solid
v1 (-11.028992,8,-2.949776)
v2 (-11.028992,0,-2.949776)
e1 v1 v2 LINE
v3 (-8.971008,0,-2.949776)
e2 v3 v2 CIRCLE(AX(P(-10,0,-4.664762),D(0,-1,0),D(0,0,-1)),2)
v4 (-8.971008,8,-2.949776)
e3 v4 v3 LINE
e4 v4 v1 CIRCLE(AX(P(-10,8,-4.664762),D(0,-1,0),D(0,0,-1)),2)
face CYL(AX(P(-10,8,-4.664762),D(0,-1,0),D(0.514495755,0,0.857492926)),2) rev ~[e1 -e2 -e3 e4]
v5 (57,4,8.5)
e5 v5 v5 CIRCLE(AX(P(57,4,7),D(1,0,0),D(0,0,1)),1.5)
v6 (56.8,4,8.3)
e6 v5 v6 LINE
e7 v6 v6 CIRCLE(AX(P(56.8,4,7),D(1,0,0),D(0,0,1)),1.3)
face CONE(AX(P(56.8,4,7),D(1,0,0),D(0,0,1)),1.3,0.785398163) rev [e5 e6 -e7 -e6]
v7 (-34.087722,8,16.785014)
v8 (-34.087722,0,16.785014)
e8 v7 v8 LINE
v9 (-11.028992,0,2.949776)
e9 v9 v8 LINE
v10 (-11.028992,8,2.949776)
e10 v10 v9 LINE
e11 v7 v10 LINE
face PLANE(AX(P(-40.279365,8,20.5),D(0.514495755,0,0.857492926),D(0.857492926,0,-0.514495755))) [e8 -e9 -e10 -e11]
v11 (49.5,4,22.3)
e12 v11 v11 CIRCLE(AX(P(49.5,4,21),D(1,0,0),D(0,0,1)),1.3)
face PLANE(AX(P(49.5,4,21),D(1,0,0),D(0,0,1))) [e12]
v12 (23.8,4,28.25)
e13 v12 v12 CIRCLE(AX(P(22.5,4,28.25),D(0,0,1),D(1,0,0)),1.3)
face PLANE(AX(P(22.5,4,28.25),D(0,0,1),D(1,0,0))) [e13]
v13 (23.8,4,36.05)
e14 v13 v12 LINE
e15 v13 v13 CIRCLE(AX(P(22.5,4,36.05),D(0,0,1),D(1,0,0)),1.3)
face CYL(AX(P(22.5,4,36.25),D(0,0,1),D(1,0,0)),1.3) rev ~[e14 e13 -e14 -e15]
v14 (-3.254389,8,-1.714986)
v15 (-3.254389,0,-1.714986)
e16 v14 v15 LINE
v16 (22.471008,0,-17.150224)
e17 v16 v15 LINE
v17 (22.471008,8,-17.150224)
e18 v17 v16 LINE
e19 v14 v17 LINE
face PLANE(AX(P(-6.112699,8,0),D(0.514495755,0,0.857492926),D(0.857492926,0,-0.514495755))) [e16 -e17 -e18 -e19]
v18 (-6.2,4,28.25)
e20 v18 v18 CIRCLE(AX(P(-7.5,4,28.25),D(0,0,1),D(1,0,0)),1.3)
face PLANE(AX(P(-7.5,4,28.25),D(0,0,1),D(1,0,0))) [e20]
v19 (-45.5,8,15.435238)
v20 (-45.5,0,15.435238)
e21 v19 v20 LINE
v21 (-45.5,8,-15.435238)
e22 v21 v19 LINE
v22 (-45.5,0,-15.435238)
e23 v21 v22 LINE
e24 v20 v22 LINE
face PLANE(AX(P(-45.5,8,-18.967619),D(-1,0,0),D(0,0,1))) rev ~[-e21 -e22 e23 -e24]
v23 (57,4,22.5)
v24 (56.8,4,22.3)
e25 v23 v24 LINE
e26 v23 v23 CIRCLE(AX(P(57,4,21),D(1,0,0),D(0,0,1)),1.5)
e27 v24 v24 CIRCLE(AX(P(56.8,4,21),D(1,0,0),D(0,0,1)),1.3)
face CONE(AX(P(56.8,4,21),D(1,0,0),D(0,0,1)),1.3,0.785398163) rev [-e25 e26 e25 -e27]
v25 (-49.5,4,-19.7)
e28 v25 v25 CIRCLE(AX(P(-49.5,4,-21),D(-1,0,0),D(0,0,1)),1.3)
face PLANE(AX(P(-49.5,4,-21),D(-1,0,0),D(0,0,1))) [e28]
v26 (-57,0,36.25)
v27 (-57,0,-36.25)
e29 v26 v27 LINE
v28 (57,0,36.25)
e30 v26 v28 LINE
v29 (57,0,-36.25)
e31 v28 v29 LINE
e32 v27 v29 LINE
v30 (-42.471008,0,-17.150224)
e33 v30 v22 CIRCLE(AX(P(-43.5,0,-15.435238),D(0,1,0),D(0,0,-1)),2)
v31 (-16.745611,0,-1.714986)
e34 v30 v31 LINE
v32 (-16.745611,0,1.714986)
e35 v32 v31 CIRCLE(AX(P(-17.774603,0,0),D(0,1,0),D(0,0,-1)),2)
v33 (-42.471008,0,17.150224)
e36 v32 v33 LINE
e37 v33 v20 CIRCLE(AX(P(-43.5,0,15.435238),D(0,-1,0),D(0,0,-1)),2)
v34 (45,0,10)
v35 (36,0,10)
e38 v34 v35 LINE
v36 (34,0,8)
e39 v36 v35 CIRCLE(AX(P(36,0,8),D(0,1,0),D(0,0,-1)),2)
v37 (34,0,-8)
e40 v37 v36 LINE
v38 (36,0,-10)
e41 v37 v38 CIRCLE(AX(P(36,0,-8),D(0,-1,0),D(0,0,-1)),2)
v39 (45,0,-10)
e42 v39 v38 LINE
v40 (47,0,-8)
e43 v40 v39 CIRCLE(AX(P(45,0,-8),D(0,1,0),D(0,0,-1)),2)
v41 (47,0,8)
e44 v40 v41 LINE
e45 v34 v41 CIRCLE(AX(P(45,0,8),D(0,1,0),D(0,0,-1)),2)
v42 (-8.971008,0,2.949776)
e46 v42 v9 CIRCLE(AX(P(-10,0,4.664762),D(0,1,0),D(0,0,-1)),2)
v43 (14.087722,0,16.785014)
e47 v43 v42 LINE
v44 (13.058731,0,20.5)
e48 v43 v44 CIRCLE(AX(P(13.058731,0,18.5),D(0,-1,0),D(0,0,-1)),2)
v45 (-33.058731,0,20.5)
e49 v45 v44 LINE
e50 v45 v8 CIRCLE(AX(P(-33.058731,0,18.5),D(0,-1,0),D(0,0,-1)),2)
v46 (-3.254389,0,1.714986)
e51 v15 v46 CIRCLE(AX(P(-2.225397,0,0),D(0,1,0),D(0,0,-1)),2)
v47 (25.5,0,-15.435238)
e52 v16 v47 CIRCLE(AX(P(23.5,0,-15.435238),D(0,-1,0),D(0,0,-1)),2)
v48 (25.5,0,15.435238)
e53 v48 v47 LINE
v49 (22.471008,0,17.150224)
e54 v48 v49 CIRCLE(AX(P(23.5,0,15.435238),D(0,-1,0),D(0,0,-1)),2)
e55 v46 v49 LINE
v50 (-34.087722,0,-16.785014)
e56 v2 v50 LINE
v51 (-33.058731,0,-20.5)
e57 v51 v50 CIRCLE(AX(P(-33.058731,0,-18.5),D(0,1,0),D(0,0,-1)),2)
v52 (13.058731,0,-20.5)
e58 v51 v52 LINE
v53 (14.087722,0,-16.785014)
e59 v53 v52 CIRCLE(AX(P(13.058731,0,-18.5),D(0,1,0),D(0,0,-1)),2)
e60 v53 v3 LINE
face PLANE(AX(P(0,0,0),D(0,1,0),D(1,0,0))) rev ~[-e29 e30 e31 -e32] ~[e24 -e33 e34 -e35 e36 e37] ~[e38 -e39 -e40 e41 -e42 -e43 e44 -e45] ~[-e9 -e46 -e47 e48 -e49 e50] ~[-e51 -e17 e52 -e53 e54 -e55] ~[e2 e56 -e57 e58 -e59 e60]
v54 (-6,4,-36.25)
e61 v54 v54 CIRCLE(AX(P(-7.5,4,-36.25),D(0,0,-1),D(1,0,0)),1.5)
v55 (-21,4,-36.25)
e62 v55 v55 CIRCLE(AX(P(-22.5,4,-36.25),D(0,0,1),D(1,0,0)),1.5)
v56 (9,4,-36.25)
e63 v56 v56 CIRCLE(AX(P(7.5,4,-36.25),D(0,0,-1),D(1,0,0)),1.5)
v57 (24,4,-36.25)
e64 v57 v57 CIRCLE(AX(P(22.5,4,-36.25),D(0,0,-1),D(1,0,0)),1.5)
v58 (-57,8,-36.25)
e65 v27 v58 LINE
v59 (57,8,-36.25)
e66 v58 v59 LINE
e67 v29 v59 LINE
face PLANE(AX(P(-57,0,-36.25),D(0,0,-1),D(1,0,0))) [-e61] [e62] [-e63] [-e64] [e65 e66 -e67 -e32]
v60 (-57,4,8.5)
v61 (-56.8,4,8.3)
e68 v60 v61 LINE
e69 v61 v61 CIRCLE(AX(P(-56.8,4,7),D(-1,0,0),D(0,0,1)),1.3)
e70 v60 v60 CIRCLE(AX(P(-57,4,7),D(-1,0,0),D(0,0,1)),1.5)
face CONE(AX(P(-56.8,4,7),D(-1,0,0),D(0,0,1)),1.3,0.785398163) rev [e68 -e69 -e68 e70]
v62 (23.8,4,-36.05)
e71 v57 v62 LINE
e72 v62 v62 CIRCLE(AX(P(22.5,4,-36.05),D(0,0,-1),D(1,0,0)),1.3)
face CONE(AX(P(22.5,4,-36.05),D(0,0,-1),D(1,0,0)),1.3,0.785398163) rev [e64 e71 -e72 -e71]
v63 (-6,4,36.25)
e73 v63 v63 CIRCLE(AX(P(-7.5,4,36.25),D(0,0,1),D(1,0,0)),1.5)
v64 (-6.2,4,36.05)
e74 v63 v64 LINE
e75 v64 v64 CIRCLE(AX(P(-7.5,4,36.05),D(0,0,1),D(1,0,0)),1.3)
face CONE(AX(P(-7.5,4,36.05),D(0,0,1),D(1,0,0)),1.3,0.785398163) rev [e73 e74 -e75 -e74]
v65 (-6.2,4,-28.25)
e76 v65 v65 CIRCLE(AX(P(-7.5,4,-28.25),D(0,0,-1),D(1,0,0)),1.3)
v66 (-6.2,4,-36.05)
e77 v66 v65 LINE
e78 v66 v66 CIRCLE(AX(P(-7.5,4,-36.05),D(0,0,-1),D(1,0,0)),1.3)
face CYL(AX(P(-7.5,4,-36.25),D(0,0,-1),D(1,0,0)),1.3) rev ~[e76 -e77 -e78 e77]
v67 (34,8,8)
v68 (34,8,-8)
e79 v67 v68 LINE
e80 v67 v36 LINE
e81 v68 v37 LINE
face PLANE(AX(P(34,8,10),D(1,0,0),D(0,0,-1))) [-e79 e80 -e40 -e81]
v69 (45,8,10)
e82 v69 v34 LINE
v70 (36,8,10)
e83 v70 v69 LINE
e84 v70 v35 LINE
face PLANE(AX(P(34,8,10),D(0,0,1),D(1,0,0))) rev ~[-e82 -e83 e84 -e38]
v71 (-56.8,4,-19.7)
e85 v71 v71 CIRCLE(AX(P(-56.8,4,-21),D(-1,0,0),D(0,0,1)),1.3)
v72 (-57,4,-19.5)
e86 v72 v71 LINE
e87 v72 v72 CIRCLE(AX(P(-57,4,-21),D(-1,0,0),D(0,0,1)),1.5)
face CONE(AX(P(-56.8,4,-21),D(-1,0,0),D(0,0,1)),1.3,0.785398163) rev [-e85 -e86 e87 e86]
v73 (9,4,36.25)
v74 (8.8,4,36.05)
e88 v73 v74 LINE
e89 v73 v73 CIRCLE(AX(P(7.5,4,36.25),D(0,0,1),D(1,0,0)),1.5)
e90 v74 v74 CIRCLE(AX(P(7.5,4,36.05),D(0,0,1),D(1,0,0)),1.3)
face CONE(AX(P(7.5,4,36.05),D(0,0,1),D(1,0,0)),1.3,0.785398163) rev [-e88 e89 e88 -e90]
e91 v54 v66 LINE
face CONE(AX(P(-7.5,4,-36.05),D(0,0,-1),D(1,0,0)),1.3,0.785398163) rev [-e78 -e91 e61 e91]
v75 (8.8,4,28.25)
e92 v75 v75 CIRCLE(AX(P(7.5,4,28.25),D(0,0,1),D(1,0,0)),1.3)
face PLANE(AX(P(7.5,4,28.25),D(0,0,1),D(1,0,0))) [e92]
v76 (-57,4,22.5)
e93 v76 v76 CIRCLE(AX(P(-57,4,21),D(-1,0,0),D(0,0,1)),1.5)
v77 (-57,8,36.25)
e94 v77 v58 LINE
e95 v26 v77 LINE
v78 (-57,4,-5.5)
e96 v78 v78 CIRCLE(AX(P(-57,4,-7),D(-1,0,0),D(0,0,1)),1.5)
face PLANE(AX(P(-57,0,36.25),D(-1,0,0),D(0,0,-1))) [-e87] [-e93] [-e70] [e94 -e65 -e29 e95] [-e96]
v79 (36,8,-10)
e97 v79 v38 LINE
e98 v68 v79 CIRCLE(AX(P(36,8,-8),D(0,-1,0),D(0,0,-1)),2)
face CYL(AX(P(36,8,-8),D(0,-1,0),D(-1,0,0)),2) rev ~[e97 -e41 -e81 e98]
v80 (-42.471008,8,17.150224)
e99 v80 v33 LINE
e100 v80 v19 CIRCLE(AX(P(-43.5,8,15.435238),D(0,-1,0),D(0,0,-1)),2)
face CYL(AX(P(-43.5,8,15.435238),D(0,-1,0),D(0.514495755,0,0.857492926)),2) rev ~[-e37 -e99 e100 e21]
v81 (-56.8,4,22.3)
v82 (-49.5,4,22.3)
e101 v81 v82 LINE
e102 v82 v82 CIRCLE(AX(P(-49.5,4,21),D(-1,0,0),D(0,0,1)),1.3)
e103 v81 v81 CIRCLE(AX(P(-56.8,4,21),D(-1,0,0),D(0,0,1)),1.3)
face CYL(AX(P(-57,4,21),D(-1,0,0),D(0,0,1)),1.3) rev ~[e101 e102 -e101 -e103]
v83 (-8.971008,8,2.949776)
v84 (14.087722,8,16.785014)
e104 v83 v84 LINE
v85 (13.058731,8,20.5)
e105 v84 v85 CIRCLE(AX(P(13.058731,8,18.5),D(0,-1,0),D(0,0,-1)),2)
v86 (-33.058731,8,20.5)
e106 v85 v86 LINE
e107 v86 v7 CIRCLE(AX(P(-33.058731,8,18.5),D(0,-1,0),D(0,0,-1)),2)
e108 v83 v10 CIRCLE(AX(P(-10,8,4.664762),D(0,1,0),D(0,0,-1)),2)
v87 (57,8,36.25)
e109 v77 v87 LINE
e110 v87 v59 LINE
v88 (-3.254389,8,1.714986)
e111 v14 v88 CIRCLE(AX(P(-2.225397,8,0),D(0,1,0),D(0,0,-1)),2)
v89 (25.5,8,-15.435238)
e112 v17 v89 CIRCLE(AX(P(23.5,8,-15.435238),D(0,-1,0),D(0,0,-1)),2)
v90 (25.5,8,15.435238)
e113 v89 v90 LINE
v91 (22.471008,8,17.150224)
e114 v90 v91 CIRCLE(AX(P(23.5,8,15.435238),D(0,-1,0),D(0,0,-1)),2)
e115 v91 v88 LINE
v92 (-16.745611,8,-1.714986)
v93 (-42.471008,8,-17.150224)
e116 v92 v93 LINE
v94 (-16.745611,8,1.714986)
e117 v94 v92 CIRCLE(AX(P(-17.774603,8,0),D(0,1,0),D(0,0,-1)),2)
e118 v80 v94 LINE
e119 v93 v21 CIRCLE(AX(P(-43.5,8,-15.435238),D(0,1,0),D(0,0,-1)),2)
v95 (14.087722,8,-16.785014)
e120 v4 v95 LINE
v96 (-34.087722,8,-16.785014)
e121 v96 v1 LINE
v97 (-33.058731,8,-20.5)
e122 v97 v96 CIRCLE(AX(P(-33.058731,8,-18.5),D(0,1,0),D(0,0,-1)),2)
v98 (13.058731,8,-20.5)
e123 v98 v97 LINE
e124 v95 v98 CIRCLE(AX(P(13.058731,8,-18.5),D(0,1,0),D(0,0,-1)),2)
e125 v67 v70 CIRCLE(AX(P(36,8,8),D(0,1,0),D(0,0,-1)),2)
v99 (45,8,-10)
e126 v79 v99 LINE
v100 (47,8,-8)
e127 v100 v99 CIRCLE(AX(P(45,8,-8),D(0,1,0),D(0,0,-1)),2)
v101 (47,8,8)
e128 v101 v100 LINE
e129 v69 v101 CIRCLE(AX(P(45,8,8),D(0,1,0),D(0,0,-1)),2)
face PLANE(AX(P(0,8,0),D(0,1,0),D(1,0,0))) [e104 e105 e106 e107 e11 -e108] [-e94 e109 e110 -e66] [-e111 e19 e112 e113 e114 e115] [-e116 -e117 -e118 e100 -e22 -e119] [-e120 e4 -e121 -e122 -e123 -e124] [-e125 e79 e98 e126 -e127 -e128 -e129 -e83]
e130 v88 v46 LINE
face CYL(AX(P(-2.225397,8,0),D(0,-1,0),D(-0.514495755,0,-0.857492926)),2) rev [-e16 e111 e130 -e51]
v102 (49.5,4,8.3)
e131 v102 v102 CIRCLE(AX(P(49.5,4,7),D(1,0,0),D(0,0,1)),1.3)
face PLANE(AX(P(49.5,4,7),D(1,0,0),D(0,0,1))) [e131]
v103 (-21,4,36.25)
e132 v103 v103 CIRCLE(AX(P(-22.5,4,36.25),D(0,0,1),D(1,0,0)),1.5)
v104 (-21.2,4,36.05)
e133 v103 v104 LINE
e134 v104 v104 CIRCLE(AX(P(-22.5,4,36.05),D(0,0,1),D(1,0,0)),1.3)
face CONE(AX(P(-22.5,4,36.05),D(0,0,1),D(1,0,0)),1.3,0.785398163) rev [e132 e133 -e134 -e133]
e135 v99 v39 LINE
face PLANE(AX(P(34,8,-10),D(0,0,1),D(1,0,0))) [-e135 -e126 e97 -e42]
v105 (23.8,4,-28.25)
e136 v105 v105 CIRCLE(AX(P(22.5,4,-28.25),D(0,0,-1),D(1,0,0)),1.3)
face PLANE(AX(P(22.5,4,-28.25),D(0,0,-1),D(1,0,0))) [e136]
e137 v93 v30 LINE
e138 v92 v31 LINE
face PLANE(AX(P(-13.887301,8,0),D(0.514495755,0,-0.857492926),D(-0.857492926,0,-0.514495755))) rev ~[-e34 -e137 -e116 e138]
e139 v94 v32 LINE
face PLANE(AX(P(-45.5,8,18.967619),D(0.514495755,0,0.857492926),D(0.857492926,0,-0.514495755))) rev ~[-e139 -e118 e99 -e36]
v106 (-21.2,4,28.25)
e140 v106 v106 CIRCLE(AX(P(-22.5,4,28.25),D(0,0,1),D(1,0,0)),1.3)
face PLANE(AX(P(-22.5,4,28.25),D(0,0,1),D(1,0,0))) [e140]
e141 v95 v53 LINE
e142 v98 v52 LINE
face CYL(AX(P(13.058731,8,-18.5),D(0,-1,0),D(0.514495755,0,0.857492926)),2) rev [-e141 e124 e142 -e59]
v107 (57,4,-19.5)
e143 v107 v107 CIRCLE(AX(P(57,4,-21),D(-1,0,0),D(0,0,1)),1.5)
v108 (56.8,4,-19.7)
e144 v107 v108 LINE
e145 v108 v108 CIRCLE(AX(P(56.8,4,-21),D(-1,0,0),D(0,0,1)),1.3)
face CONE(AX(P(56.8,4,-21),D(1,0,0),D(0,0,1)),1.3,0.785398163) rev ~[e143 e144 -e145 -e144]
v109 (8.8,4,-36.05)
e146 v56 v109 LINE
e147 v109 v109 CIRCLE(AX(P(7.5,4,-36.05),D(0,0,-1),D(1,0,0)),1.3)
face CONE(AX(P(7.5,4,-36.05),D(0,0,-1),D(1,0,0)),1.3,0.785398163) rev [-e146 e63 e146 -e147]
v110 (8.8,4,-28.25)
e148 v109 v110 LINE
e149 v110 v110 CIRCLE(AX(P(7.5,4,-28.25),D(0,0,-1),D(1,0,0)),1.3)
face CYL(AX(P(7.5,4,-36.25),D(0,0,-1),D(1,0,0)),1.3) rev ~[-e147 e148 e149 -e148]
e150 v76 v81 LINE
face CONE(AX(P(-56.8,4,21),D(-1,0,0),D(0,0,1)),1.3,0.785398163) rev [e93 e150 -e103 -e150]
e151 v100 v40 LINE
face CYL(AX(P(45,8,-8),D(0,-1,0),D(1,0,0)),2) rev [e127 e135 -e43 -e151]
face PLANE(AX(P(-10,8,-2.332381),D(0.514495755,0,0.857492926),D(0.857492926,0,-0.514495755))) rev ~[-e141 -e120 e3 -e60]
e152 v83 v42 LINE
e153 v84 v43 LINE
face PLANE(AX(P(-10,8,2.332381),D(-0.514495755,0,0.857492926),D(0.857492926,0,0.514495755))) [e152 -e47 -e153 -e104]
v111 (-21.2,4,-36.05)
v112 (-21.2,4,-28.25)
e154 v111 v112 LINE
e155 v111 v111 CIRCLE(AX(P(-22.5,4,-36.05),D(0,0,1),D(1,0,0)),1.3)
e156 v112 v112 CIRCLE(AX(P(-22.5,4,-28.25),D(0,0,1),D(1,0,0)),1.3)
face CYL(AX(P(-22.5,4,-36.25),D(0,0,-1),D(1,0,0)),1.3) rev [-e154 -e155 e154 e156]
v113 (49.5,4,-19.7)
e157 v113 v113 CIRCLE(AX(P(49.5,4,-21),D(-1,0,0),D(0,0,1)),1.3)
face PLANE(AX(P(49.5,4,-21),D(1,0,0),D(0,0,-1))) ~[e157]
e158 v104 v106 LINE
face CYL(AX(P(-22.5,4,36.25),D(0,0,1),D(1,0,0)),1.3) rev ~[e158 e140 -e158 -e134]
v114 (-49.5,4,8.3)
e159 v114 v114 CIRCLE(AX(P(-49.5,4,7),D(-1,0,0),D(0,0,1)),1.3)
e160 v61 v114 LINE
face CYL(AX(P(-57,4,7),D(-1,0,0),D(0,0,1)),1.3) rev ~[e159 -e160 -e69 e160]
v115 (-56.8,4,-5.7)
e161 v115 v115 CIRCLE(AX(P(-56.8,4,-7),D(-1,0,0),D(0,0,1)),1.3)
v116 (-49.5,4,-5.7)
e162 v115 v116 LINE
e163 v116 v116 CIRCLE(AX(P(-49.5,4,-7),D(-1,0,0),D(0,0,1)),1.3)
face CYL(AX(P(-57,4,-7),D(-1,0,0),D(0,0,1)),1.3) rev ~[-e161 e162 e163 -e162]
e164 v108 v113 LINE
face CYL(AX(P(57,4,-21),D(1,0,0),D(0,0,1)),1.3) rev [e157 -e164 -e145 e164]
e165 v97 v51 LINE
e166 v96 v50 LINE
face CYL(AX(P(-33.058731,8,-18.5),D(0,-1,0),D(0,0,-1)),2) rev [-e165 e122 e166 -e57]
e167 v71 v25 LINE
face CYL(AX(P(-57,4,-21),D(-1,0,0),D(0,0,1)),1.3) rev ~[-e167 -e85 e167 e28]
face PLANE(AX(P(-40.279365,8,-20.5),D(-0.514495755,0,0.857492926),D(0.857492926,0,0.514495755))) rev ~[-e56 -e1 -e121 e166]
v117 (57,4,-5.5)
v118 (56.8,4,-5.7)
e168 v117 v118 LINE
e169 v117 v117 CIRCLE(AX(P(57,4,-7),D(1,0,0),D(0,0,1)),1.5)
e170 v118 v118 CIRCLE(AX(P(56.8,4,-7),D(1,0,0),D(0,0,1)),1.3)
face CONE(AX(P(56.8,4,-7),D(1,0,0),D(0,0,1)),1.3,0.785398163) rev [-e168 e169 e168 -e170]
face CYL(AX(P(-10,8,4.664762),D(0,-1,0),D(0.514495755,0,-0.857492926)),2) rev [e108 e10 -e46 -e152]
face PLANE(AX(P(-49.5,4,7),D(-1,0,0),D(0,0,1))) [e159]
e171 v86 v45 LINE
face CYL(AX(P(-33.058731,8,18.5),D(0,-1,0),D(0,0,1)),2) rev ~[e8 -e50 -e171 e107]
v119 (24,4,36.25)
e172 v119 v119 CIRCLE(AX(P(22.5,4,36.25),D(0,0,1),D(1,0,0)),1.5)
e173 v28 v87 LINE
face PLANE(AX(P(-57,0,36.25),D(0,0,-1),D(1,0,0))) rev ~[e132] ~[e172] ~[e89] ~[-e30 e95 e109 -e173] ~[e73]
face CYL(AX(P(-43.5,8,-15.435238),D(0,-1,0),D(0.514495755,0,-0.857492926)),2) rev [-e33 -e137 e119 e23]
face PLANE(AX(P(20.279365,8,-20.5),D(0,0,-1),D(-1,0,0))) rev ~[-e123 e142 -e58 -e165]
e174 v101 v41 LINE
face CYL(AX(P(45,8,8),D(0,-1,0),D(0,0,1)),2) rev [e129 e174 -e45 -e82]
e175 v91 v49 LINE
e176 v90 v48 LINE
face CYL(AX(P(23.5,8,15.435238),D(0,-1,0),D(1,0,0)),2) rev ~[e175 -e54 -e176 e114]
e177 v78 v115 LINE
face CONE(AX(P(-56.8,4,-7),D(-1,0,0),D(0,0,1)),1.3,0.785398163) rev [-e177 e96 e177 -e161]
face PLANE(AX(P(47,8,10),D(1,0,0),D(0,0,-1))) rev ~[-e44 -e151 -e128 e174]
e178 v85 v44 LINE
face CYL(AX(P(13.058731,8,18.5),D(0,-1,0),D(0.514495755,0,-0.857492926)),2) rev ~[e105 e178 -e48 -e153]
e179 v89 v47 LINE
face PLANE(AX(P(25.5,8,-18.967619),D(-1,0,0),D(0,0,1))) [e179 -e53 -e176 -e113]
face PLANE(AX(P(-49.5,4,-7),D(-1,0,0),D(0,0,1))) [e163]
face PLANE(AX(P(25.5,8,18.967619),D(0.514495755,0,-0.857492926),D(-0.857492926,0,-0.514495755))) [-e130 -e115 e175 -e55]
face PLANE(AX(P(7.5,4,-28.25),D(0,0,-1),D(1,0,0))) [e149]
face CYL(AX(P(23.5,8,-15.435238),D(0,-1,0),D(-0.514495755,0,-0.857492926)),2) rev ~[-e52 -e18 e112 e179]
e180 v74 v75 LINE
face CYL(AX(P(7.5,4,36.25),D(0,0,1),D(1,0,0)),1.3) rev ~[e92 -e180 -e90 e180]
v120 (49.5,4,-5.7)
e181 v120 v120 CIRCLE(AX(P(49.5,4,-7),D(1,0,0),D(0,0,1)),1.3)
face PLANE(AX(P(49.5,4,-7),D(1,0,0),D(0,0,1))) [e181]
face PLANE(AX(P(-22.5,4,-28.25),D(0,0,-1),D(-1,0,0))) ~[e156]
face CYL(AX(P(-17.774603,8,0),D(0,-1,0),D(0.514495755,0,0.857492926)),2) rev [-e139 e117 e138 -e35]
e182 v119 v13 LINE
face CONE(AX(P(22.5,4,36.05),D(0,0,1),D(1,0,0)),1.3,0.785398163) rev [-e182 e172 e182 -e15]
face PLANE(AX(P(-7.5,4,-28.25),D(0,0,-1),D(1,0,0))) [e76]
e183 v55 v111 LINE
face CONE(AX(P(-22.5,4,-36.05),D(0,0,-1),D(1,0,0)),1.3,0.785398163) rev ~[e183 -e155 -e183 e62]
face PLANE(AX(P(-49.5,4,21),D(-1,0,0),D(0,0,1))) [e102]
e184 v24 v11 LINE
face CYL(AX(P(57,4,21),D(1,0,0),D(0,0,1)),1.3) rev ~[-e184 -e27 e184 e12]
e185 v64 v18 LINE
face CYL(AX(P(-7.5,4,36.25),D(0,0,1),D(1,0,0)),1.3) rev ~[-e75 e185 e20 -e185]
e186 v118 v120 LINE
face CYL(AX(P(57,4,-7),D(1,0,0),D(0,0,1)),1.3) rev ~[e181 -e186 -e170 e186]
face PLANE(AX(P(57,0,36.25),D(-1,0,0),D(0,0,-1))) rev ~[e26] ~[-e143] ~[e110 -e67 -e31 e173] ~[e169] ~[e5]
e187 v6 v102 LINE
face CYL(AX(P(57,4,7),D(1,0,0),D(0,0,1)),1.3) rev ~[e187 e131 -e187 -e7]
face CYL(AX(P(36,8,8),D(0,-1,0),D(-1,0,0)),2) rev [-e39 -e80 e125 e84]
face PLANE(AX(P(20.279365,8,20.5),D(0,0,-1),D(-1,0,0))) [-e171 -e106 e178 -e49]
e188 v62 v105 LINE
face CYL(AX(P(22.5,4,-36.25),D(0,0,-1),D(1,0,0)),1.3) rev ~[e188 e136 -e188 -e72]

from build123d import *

# Parameters (mm, degrees)
SKETCH_1_W               = 114
SKETCH_1_H               = 72.5
EXTRUDE_1_DEPTH          = 8
SKETCH_2_R               = 1.3
CUT_EXTRUDE_1_DEPTH      = 8
PATTERN_LINEAR_1_COUNT   = 4
PATTERN_LINEAR_1_PITCH   = 15
MIRROR_1_COPY_1_SKETCH_R = 1.3
MIRROR_1_COPY_1_DEPTH    = 8
MIRROR_1_COPY_2_SKETCH_R = 1.3
MIRROR_1_COPY_2_DEPTH    = 8
MIRROR_1_COPY_3_SKETCH_R = 1.3
MIRROR_1_COPY_3_DEPTH    = 8
SKETCH_3_R               = 1.3
CUT_EXTRUDE_2_DEPTH      = 7.5
PATTERN_LINEAR_2_COUNT   = 4
PATTERN_LINEAR_2_PITCH   = 14
MIRROR_2_COPY_1_SKETCH_R = 1.3
MIRROR_2_COPY_1_DEPTH    = 7.5
MIRROR_2_COPY_2_SKETCH_R = 1.3
MIRROR_2_COPY_2_DEPTH    = 7.5
MIRROR_2_COPY_3_SKETCH_R = 1.3
MIRROR_2_COPY_3_DEPTH    = 7.5
CUT_EXTRUDE_3_REACH      = 70.023
SKETCH_4_W               = 13
SKETCH_4_H               = 20
FILLET_1_R               = 2
CHAMFER_1_SIZE           = 0.2


with BuildPart() as part:
    # 草圖1 → 填料-伸長1 (new body)
    with BuildSketch(Plane(origin=(0, 0, 0), x_dir=(1, 0, 0), z_dir=(0, 1, 0))):
        Rectangle(SKETCH_1_W, SKETCH_1_H)
    extrude(amount=EXTRUDE_1_DEPTH)

    # 草圖2 → 除料-伸長1 (cut)
    with BuildSketch(Plane.XY.offset(36.25)):
        with Locations((-22.5, 4)):
            Circle(SKETCH_2_R)
    cut_extrude_1 = extrude(amount=-CUT_EXTRUDE_1_DEPTH, mode=Mode.SUBTRACT)

    # 直線複製排列1: 除料-伸長1 ×4
    with Locations(*[(i * PATTERN_LINEAR_1_PITCH, 0, 0) for i in range(1, PATTERN_LINEAR_1_COUNT)]):
        add(cut_extrude_1, mode=Mode.SUBTRACT)

    # 鏡射1: 除料-伸長1 across plane
    add(cut_extrude_1.mirror(Plane.XY), mode=Mode.SUBTRACT)

    # 鏡射1 copy 1 sketch → 鏡射1 copy 1 (cut)
    with BuildSketch(Plane(origin=(15, 0, -36.25), x_dir=(1, 0, 0), z_dir=(0, 0, -1))):
        with Locations((-22.5, -4)):
            Circle(MIRROR_1_COPY_1_SKETCH_R)
    extrude(amount=-MIRROR_1_COPY_1_DEPTH, mode=Mode.SUBTRACT)

    # 鏡射1 copy 2 sketch → 鏡射1 copy 2 (cut)
    with BuildSketch(Plane(origin=(30, 0, -36.25), x_dir=(1, 0, 0), z_dir=(0, 0, -1))):
        with Locations((-22.5, -4)):
            Circle(MIRROR_1_COPY_2_SKETCH_R)
    extrude(amount=-MIRROR_1_COPY_2_DEPTH, mode=Mode.SUBTRACT)

    # 鏡射1 copy 3 sketch → 鏡射1 copy 3 (cut)
    with BuildSketch(Plane(origin=(45, 0, -36.25), x_dir=(1, 0, 0), z_dir=(0, 0, -1))):
        with Locations((-22.5, -4)):
            Circle(MIRROR_1_COPY_3_SKETCH_R)
    extrude(amount=-MIRROR_1_COPY_3_DEPTH, mode=Mode.SUBTRACT)

    # 草圖3 → 除料-伸長2 (cut)
    with BuildSketch(Plane.ZY.offset(57)):
        with Locations((-21, 4)):
            Circle(SKETCH_3_R)
    cut_extrude_2 = extrude(amount=-CUT_EXTRUDE_2_DEPTH, mode=Mode.SUBTRACT)

    # 直線複製排列2: 除料-伸長2 ×4
    with Locations(*[(0, 0, i * PATTERN_LINEAR_2_PITCH) for i in range(1, PATTERN_LINEAR_2_COUNT)]):
        add(cut_extrude_2, mode=Mode.SUBTRACT)

    # 鏡射2: 除料-伸長2 across plane
    add(cut_extrude_2.mirror(Plane(origin=(0, 0, 0), x_dir=(0, 0, 1), z_dir=(1, 0, 0))), mode=Mode.SUBTRACT)

    # 鏡射2 copy 1 sketch → 鏡射2 copy 1 (cut)
    with BuildSketch(Plane(origin=(57, 0, 14), x_dir=(0, 0, 1), z_dir=(1, 0, 0))):
        with Locations((-21, -4)):
            Circle(MIRROR_2_COPY_1_SKETCH_R)
    extrude(amount=-MIRROR_2_COPY_1_DEPTH, mode=Mode.SUBTRACT)

    # 鏡射2 copy 2 sketch → 鏡射2 copy 2 (cut)
    with BuildSketch(Plane(origin=(57, 0, 28), x_dir=(0, 0, 1), z_dir=(1, 0, 0))):
        with Locations((-21, -4)):
            Circle(MIRROR_2_COPY_2_SKETCH_R)
    extrude(amount=-MIRROR_2_COPY_2_DEPTH, mode=Mode.SUBTRACT)

    # 鏡射2 copy 3 sketch → 鏡射2 copy 3 (cut)
    with BuildSketch(Plane(origin=(57, 0, 42), x_dir=(0, 0, 1), z_dir=(1, 0, 0))):
        with Locations((-21, -4)):
            Circle(MIRROR_2_COPY_3_SKETCH_R)
    extrude(amount=-MIRROR_2_COPY_3_DEPTH, mode=Mode.SUBTRACT)

    # 草圖4 → 除料-伸長3 (cut, up to next)
    with BuildSketch(Plane(origin=(0, 8, 0), x_dir=(1, 0, 0), z_dir=(0, 1, 0)), mode=Mode.PRIVATE) as cut_extrude_3_sk1:
        Polygon((-45.5, 18.967619242), (-45.5, -18.967619242), (-13.887301263, 0), align=None)
    cut_extrude_3_tool1 = extrude(cut_extrude_3_sk1.sketch, amount=-CUT_EXTRUDE_3_REACH, mode=Mode.PRIVATE) & part.part
    # 草圖4 → 除料-伸長3 (cut, up to next)
    with BuildSketch(Plane(origin=(0, 8, 0), x_dir=(1, 0, 0), z_dir=(0, 1, 0)), mode=Mode.PRIVATE) as cut_extrude_3_sk2:
        Polygon((-40.279365403, 20.5), (-10, 2.332380758), (20.279365403, 20.5), align=None)
    cut_extrude_3_tool2 = extrude(cut_extrude_3_sk2.sketch, amount=-CUT_EXTRUDE_3_REACH, mode=Mode.PRIVATE) & part.part
    # 草圖4 → 除料-伸長3 (cut, up to next)
    with BuildSketch(Plane(origin=(0, 8, 0), x_dir=(1, 0, 0), z_dir=(0, 1, 0)), mode=Mode.PRIVATE) as cut_extrude_3_sk3:
        Polygon((-6.112698737, 0), (25.5, 18.967619242), (25.5, -18.967619242), align=None)
    cut_extrude_3_tool3 = extrude(cut_extrude_3_sk3.sketch, amount=-CUT_EXTRUDE_3_REACH, mode=Mode.PRIVATE) & part.part
    # 草圖4 → 除料-伸長3 (cut, up to next)
    with BuildSketch(Plane(origin=(0, 8, 0), x_dir=(1, 0, 0), z_dir=(0, 1, 0)), mode=Mode.PRIVATE) as cut_extrude_3_sk4:
        Polygon((-10, -2.332380758), (20.279365403, -20.5), (-40.279365403, -20.5), align=None)
    cut_extrude_3_tool4 = extrude(cut_extrude_3_sk4.sketch, amount=-CUT_EXTRUDE_3_REACH, mode=Mode.PRIVATE) & part.part
    # 草圖4 → 除料-伸長3 (cut, up to next)
    with BuildSketch(Plane(origin=(0, 8, 0), x_dir=(1, 0, 0), z_dir=(0, 1, 0)), mode=Mode.PRIVATE) as cut_extrude_3_sk5:
        with Locations((40.5, 0)):
            Rectangle(SKETCH_4_W, SKETCH_4_H)
    cut_extrude_3_tool5 = extrude(cut_extrude_3_sk5.sketch, amount=-CUT_EXTRUDE_3_REACH, mode=Mode.PRIVATE) & part.part
    add(cut_extrude_3_tool1.solids().sort_by_distance((-34.962434, 8, 0))[0], mode=Mode.SUBTRACT)
    add(cut_extrude_3_tool2.solids().sort_by_distance((-10, 8, -14.444127))[0], mode=Mode.SUBTRACT)
    add(cut_extrude_3_tool3.solids().sort_by_distance((14.962434, 8, 0))[0], mode=Mode.SUBTRACT)
    add(cut_extrude_3_tool4.solids().sort_by_distance((-10, 8, 14.444127))[0], mode=Mode.SUBTRACT)
    add(cut_extrude_3_tool5.solids().sort_by_distance((40.5, 8, 0))[0], mode=Mode.SUBTRACT)

    # 圓角1
    fillet_1_edges = [part.edges().sort_by_distance(p)[0] for p in [
        (-45.5, 4, 18.967619242),
        (-45.5, 4, -18.967619242),
        (-13.887301263, 4, 0),
        (-6.112698737, 4, 0),
        (25.5, 4, -18.967619242),
        (25.5, 4, 18.967619242),
        (-10, 4, -2.332380758),
        (-40.279365403, 4, -20.5),
        (20.279365403, 4, -20.5),
        (-10, 4, 2.332380758),
        (20.279365403, 4, 20.5),
        (-40.279365403, 4, 20.5),
        (47, 4, -10),
        (47, 4, 10),
        (34, 4, 10),
        (34, 4, -10),
    ]]
    fillet(fillet_1_edges, radius=FILLET_1_R)

    # 導角1
    chamfer_1_edges = [part.edges().sort_by_distance(p)[0] for p in [
        (-23.8, 4, 36.25),
        (-8.8, 4, 36.25),
        (6.2, 4, 36.25),
        (21.2, 4, 36.25),
        (-23.8, 4, -36.25),
        (-8.8, 4, -36.25),
        (6.2, 4, -36.25),
        (21.2, 4, -36.25),
        (-57, 4, -22.3),
        (-57, 4, -8.3),
        (-57, 4, 5.7),
        (-57, 4, 19.7),
        (57, 4, -22.3),
        (57, 4, -8.3),
        (57, 4, 5.7),
        (57, 4, 19.7),
    ]]
    chamfer(chamfer_1_edges, length=CHAMFER_1_SIZE)


solid = part.part
